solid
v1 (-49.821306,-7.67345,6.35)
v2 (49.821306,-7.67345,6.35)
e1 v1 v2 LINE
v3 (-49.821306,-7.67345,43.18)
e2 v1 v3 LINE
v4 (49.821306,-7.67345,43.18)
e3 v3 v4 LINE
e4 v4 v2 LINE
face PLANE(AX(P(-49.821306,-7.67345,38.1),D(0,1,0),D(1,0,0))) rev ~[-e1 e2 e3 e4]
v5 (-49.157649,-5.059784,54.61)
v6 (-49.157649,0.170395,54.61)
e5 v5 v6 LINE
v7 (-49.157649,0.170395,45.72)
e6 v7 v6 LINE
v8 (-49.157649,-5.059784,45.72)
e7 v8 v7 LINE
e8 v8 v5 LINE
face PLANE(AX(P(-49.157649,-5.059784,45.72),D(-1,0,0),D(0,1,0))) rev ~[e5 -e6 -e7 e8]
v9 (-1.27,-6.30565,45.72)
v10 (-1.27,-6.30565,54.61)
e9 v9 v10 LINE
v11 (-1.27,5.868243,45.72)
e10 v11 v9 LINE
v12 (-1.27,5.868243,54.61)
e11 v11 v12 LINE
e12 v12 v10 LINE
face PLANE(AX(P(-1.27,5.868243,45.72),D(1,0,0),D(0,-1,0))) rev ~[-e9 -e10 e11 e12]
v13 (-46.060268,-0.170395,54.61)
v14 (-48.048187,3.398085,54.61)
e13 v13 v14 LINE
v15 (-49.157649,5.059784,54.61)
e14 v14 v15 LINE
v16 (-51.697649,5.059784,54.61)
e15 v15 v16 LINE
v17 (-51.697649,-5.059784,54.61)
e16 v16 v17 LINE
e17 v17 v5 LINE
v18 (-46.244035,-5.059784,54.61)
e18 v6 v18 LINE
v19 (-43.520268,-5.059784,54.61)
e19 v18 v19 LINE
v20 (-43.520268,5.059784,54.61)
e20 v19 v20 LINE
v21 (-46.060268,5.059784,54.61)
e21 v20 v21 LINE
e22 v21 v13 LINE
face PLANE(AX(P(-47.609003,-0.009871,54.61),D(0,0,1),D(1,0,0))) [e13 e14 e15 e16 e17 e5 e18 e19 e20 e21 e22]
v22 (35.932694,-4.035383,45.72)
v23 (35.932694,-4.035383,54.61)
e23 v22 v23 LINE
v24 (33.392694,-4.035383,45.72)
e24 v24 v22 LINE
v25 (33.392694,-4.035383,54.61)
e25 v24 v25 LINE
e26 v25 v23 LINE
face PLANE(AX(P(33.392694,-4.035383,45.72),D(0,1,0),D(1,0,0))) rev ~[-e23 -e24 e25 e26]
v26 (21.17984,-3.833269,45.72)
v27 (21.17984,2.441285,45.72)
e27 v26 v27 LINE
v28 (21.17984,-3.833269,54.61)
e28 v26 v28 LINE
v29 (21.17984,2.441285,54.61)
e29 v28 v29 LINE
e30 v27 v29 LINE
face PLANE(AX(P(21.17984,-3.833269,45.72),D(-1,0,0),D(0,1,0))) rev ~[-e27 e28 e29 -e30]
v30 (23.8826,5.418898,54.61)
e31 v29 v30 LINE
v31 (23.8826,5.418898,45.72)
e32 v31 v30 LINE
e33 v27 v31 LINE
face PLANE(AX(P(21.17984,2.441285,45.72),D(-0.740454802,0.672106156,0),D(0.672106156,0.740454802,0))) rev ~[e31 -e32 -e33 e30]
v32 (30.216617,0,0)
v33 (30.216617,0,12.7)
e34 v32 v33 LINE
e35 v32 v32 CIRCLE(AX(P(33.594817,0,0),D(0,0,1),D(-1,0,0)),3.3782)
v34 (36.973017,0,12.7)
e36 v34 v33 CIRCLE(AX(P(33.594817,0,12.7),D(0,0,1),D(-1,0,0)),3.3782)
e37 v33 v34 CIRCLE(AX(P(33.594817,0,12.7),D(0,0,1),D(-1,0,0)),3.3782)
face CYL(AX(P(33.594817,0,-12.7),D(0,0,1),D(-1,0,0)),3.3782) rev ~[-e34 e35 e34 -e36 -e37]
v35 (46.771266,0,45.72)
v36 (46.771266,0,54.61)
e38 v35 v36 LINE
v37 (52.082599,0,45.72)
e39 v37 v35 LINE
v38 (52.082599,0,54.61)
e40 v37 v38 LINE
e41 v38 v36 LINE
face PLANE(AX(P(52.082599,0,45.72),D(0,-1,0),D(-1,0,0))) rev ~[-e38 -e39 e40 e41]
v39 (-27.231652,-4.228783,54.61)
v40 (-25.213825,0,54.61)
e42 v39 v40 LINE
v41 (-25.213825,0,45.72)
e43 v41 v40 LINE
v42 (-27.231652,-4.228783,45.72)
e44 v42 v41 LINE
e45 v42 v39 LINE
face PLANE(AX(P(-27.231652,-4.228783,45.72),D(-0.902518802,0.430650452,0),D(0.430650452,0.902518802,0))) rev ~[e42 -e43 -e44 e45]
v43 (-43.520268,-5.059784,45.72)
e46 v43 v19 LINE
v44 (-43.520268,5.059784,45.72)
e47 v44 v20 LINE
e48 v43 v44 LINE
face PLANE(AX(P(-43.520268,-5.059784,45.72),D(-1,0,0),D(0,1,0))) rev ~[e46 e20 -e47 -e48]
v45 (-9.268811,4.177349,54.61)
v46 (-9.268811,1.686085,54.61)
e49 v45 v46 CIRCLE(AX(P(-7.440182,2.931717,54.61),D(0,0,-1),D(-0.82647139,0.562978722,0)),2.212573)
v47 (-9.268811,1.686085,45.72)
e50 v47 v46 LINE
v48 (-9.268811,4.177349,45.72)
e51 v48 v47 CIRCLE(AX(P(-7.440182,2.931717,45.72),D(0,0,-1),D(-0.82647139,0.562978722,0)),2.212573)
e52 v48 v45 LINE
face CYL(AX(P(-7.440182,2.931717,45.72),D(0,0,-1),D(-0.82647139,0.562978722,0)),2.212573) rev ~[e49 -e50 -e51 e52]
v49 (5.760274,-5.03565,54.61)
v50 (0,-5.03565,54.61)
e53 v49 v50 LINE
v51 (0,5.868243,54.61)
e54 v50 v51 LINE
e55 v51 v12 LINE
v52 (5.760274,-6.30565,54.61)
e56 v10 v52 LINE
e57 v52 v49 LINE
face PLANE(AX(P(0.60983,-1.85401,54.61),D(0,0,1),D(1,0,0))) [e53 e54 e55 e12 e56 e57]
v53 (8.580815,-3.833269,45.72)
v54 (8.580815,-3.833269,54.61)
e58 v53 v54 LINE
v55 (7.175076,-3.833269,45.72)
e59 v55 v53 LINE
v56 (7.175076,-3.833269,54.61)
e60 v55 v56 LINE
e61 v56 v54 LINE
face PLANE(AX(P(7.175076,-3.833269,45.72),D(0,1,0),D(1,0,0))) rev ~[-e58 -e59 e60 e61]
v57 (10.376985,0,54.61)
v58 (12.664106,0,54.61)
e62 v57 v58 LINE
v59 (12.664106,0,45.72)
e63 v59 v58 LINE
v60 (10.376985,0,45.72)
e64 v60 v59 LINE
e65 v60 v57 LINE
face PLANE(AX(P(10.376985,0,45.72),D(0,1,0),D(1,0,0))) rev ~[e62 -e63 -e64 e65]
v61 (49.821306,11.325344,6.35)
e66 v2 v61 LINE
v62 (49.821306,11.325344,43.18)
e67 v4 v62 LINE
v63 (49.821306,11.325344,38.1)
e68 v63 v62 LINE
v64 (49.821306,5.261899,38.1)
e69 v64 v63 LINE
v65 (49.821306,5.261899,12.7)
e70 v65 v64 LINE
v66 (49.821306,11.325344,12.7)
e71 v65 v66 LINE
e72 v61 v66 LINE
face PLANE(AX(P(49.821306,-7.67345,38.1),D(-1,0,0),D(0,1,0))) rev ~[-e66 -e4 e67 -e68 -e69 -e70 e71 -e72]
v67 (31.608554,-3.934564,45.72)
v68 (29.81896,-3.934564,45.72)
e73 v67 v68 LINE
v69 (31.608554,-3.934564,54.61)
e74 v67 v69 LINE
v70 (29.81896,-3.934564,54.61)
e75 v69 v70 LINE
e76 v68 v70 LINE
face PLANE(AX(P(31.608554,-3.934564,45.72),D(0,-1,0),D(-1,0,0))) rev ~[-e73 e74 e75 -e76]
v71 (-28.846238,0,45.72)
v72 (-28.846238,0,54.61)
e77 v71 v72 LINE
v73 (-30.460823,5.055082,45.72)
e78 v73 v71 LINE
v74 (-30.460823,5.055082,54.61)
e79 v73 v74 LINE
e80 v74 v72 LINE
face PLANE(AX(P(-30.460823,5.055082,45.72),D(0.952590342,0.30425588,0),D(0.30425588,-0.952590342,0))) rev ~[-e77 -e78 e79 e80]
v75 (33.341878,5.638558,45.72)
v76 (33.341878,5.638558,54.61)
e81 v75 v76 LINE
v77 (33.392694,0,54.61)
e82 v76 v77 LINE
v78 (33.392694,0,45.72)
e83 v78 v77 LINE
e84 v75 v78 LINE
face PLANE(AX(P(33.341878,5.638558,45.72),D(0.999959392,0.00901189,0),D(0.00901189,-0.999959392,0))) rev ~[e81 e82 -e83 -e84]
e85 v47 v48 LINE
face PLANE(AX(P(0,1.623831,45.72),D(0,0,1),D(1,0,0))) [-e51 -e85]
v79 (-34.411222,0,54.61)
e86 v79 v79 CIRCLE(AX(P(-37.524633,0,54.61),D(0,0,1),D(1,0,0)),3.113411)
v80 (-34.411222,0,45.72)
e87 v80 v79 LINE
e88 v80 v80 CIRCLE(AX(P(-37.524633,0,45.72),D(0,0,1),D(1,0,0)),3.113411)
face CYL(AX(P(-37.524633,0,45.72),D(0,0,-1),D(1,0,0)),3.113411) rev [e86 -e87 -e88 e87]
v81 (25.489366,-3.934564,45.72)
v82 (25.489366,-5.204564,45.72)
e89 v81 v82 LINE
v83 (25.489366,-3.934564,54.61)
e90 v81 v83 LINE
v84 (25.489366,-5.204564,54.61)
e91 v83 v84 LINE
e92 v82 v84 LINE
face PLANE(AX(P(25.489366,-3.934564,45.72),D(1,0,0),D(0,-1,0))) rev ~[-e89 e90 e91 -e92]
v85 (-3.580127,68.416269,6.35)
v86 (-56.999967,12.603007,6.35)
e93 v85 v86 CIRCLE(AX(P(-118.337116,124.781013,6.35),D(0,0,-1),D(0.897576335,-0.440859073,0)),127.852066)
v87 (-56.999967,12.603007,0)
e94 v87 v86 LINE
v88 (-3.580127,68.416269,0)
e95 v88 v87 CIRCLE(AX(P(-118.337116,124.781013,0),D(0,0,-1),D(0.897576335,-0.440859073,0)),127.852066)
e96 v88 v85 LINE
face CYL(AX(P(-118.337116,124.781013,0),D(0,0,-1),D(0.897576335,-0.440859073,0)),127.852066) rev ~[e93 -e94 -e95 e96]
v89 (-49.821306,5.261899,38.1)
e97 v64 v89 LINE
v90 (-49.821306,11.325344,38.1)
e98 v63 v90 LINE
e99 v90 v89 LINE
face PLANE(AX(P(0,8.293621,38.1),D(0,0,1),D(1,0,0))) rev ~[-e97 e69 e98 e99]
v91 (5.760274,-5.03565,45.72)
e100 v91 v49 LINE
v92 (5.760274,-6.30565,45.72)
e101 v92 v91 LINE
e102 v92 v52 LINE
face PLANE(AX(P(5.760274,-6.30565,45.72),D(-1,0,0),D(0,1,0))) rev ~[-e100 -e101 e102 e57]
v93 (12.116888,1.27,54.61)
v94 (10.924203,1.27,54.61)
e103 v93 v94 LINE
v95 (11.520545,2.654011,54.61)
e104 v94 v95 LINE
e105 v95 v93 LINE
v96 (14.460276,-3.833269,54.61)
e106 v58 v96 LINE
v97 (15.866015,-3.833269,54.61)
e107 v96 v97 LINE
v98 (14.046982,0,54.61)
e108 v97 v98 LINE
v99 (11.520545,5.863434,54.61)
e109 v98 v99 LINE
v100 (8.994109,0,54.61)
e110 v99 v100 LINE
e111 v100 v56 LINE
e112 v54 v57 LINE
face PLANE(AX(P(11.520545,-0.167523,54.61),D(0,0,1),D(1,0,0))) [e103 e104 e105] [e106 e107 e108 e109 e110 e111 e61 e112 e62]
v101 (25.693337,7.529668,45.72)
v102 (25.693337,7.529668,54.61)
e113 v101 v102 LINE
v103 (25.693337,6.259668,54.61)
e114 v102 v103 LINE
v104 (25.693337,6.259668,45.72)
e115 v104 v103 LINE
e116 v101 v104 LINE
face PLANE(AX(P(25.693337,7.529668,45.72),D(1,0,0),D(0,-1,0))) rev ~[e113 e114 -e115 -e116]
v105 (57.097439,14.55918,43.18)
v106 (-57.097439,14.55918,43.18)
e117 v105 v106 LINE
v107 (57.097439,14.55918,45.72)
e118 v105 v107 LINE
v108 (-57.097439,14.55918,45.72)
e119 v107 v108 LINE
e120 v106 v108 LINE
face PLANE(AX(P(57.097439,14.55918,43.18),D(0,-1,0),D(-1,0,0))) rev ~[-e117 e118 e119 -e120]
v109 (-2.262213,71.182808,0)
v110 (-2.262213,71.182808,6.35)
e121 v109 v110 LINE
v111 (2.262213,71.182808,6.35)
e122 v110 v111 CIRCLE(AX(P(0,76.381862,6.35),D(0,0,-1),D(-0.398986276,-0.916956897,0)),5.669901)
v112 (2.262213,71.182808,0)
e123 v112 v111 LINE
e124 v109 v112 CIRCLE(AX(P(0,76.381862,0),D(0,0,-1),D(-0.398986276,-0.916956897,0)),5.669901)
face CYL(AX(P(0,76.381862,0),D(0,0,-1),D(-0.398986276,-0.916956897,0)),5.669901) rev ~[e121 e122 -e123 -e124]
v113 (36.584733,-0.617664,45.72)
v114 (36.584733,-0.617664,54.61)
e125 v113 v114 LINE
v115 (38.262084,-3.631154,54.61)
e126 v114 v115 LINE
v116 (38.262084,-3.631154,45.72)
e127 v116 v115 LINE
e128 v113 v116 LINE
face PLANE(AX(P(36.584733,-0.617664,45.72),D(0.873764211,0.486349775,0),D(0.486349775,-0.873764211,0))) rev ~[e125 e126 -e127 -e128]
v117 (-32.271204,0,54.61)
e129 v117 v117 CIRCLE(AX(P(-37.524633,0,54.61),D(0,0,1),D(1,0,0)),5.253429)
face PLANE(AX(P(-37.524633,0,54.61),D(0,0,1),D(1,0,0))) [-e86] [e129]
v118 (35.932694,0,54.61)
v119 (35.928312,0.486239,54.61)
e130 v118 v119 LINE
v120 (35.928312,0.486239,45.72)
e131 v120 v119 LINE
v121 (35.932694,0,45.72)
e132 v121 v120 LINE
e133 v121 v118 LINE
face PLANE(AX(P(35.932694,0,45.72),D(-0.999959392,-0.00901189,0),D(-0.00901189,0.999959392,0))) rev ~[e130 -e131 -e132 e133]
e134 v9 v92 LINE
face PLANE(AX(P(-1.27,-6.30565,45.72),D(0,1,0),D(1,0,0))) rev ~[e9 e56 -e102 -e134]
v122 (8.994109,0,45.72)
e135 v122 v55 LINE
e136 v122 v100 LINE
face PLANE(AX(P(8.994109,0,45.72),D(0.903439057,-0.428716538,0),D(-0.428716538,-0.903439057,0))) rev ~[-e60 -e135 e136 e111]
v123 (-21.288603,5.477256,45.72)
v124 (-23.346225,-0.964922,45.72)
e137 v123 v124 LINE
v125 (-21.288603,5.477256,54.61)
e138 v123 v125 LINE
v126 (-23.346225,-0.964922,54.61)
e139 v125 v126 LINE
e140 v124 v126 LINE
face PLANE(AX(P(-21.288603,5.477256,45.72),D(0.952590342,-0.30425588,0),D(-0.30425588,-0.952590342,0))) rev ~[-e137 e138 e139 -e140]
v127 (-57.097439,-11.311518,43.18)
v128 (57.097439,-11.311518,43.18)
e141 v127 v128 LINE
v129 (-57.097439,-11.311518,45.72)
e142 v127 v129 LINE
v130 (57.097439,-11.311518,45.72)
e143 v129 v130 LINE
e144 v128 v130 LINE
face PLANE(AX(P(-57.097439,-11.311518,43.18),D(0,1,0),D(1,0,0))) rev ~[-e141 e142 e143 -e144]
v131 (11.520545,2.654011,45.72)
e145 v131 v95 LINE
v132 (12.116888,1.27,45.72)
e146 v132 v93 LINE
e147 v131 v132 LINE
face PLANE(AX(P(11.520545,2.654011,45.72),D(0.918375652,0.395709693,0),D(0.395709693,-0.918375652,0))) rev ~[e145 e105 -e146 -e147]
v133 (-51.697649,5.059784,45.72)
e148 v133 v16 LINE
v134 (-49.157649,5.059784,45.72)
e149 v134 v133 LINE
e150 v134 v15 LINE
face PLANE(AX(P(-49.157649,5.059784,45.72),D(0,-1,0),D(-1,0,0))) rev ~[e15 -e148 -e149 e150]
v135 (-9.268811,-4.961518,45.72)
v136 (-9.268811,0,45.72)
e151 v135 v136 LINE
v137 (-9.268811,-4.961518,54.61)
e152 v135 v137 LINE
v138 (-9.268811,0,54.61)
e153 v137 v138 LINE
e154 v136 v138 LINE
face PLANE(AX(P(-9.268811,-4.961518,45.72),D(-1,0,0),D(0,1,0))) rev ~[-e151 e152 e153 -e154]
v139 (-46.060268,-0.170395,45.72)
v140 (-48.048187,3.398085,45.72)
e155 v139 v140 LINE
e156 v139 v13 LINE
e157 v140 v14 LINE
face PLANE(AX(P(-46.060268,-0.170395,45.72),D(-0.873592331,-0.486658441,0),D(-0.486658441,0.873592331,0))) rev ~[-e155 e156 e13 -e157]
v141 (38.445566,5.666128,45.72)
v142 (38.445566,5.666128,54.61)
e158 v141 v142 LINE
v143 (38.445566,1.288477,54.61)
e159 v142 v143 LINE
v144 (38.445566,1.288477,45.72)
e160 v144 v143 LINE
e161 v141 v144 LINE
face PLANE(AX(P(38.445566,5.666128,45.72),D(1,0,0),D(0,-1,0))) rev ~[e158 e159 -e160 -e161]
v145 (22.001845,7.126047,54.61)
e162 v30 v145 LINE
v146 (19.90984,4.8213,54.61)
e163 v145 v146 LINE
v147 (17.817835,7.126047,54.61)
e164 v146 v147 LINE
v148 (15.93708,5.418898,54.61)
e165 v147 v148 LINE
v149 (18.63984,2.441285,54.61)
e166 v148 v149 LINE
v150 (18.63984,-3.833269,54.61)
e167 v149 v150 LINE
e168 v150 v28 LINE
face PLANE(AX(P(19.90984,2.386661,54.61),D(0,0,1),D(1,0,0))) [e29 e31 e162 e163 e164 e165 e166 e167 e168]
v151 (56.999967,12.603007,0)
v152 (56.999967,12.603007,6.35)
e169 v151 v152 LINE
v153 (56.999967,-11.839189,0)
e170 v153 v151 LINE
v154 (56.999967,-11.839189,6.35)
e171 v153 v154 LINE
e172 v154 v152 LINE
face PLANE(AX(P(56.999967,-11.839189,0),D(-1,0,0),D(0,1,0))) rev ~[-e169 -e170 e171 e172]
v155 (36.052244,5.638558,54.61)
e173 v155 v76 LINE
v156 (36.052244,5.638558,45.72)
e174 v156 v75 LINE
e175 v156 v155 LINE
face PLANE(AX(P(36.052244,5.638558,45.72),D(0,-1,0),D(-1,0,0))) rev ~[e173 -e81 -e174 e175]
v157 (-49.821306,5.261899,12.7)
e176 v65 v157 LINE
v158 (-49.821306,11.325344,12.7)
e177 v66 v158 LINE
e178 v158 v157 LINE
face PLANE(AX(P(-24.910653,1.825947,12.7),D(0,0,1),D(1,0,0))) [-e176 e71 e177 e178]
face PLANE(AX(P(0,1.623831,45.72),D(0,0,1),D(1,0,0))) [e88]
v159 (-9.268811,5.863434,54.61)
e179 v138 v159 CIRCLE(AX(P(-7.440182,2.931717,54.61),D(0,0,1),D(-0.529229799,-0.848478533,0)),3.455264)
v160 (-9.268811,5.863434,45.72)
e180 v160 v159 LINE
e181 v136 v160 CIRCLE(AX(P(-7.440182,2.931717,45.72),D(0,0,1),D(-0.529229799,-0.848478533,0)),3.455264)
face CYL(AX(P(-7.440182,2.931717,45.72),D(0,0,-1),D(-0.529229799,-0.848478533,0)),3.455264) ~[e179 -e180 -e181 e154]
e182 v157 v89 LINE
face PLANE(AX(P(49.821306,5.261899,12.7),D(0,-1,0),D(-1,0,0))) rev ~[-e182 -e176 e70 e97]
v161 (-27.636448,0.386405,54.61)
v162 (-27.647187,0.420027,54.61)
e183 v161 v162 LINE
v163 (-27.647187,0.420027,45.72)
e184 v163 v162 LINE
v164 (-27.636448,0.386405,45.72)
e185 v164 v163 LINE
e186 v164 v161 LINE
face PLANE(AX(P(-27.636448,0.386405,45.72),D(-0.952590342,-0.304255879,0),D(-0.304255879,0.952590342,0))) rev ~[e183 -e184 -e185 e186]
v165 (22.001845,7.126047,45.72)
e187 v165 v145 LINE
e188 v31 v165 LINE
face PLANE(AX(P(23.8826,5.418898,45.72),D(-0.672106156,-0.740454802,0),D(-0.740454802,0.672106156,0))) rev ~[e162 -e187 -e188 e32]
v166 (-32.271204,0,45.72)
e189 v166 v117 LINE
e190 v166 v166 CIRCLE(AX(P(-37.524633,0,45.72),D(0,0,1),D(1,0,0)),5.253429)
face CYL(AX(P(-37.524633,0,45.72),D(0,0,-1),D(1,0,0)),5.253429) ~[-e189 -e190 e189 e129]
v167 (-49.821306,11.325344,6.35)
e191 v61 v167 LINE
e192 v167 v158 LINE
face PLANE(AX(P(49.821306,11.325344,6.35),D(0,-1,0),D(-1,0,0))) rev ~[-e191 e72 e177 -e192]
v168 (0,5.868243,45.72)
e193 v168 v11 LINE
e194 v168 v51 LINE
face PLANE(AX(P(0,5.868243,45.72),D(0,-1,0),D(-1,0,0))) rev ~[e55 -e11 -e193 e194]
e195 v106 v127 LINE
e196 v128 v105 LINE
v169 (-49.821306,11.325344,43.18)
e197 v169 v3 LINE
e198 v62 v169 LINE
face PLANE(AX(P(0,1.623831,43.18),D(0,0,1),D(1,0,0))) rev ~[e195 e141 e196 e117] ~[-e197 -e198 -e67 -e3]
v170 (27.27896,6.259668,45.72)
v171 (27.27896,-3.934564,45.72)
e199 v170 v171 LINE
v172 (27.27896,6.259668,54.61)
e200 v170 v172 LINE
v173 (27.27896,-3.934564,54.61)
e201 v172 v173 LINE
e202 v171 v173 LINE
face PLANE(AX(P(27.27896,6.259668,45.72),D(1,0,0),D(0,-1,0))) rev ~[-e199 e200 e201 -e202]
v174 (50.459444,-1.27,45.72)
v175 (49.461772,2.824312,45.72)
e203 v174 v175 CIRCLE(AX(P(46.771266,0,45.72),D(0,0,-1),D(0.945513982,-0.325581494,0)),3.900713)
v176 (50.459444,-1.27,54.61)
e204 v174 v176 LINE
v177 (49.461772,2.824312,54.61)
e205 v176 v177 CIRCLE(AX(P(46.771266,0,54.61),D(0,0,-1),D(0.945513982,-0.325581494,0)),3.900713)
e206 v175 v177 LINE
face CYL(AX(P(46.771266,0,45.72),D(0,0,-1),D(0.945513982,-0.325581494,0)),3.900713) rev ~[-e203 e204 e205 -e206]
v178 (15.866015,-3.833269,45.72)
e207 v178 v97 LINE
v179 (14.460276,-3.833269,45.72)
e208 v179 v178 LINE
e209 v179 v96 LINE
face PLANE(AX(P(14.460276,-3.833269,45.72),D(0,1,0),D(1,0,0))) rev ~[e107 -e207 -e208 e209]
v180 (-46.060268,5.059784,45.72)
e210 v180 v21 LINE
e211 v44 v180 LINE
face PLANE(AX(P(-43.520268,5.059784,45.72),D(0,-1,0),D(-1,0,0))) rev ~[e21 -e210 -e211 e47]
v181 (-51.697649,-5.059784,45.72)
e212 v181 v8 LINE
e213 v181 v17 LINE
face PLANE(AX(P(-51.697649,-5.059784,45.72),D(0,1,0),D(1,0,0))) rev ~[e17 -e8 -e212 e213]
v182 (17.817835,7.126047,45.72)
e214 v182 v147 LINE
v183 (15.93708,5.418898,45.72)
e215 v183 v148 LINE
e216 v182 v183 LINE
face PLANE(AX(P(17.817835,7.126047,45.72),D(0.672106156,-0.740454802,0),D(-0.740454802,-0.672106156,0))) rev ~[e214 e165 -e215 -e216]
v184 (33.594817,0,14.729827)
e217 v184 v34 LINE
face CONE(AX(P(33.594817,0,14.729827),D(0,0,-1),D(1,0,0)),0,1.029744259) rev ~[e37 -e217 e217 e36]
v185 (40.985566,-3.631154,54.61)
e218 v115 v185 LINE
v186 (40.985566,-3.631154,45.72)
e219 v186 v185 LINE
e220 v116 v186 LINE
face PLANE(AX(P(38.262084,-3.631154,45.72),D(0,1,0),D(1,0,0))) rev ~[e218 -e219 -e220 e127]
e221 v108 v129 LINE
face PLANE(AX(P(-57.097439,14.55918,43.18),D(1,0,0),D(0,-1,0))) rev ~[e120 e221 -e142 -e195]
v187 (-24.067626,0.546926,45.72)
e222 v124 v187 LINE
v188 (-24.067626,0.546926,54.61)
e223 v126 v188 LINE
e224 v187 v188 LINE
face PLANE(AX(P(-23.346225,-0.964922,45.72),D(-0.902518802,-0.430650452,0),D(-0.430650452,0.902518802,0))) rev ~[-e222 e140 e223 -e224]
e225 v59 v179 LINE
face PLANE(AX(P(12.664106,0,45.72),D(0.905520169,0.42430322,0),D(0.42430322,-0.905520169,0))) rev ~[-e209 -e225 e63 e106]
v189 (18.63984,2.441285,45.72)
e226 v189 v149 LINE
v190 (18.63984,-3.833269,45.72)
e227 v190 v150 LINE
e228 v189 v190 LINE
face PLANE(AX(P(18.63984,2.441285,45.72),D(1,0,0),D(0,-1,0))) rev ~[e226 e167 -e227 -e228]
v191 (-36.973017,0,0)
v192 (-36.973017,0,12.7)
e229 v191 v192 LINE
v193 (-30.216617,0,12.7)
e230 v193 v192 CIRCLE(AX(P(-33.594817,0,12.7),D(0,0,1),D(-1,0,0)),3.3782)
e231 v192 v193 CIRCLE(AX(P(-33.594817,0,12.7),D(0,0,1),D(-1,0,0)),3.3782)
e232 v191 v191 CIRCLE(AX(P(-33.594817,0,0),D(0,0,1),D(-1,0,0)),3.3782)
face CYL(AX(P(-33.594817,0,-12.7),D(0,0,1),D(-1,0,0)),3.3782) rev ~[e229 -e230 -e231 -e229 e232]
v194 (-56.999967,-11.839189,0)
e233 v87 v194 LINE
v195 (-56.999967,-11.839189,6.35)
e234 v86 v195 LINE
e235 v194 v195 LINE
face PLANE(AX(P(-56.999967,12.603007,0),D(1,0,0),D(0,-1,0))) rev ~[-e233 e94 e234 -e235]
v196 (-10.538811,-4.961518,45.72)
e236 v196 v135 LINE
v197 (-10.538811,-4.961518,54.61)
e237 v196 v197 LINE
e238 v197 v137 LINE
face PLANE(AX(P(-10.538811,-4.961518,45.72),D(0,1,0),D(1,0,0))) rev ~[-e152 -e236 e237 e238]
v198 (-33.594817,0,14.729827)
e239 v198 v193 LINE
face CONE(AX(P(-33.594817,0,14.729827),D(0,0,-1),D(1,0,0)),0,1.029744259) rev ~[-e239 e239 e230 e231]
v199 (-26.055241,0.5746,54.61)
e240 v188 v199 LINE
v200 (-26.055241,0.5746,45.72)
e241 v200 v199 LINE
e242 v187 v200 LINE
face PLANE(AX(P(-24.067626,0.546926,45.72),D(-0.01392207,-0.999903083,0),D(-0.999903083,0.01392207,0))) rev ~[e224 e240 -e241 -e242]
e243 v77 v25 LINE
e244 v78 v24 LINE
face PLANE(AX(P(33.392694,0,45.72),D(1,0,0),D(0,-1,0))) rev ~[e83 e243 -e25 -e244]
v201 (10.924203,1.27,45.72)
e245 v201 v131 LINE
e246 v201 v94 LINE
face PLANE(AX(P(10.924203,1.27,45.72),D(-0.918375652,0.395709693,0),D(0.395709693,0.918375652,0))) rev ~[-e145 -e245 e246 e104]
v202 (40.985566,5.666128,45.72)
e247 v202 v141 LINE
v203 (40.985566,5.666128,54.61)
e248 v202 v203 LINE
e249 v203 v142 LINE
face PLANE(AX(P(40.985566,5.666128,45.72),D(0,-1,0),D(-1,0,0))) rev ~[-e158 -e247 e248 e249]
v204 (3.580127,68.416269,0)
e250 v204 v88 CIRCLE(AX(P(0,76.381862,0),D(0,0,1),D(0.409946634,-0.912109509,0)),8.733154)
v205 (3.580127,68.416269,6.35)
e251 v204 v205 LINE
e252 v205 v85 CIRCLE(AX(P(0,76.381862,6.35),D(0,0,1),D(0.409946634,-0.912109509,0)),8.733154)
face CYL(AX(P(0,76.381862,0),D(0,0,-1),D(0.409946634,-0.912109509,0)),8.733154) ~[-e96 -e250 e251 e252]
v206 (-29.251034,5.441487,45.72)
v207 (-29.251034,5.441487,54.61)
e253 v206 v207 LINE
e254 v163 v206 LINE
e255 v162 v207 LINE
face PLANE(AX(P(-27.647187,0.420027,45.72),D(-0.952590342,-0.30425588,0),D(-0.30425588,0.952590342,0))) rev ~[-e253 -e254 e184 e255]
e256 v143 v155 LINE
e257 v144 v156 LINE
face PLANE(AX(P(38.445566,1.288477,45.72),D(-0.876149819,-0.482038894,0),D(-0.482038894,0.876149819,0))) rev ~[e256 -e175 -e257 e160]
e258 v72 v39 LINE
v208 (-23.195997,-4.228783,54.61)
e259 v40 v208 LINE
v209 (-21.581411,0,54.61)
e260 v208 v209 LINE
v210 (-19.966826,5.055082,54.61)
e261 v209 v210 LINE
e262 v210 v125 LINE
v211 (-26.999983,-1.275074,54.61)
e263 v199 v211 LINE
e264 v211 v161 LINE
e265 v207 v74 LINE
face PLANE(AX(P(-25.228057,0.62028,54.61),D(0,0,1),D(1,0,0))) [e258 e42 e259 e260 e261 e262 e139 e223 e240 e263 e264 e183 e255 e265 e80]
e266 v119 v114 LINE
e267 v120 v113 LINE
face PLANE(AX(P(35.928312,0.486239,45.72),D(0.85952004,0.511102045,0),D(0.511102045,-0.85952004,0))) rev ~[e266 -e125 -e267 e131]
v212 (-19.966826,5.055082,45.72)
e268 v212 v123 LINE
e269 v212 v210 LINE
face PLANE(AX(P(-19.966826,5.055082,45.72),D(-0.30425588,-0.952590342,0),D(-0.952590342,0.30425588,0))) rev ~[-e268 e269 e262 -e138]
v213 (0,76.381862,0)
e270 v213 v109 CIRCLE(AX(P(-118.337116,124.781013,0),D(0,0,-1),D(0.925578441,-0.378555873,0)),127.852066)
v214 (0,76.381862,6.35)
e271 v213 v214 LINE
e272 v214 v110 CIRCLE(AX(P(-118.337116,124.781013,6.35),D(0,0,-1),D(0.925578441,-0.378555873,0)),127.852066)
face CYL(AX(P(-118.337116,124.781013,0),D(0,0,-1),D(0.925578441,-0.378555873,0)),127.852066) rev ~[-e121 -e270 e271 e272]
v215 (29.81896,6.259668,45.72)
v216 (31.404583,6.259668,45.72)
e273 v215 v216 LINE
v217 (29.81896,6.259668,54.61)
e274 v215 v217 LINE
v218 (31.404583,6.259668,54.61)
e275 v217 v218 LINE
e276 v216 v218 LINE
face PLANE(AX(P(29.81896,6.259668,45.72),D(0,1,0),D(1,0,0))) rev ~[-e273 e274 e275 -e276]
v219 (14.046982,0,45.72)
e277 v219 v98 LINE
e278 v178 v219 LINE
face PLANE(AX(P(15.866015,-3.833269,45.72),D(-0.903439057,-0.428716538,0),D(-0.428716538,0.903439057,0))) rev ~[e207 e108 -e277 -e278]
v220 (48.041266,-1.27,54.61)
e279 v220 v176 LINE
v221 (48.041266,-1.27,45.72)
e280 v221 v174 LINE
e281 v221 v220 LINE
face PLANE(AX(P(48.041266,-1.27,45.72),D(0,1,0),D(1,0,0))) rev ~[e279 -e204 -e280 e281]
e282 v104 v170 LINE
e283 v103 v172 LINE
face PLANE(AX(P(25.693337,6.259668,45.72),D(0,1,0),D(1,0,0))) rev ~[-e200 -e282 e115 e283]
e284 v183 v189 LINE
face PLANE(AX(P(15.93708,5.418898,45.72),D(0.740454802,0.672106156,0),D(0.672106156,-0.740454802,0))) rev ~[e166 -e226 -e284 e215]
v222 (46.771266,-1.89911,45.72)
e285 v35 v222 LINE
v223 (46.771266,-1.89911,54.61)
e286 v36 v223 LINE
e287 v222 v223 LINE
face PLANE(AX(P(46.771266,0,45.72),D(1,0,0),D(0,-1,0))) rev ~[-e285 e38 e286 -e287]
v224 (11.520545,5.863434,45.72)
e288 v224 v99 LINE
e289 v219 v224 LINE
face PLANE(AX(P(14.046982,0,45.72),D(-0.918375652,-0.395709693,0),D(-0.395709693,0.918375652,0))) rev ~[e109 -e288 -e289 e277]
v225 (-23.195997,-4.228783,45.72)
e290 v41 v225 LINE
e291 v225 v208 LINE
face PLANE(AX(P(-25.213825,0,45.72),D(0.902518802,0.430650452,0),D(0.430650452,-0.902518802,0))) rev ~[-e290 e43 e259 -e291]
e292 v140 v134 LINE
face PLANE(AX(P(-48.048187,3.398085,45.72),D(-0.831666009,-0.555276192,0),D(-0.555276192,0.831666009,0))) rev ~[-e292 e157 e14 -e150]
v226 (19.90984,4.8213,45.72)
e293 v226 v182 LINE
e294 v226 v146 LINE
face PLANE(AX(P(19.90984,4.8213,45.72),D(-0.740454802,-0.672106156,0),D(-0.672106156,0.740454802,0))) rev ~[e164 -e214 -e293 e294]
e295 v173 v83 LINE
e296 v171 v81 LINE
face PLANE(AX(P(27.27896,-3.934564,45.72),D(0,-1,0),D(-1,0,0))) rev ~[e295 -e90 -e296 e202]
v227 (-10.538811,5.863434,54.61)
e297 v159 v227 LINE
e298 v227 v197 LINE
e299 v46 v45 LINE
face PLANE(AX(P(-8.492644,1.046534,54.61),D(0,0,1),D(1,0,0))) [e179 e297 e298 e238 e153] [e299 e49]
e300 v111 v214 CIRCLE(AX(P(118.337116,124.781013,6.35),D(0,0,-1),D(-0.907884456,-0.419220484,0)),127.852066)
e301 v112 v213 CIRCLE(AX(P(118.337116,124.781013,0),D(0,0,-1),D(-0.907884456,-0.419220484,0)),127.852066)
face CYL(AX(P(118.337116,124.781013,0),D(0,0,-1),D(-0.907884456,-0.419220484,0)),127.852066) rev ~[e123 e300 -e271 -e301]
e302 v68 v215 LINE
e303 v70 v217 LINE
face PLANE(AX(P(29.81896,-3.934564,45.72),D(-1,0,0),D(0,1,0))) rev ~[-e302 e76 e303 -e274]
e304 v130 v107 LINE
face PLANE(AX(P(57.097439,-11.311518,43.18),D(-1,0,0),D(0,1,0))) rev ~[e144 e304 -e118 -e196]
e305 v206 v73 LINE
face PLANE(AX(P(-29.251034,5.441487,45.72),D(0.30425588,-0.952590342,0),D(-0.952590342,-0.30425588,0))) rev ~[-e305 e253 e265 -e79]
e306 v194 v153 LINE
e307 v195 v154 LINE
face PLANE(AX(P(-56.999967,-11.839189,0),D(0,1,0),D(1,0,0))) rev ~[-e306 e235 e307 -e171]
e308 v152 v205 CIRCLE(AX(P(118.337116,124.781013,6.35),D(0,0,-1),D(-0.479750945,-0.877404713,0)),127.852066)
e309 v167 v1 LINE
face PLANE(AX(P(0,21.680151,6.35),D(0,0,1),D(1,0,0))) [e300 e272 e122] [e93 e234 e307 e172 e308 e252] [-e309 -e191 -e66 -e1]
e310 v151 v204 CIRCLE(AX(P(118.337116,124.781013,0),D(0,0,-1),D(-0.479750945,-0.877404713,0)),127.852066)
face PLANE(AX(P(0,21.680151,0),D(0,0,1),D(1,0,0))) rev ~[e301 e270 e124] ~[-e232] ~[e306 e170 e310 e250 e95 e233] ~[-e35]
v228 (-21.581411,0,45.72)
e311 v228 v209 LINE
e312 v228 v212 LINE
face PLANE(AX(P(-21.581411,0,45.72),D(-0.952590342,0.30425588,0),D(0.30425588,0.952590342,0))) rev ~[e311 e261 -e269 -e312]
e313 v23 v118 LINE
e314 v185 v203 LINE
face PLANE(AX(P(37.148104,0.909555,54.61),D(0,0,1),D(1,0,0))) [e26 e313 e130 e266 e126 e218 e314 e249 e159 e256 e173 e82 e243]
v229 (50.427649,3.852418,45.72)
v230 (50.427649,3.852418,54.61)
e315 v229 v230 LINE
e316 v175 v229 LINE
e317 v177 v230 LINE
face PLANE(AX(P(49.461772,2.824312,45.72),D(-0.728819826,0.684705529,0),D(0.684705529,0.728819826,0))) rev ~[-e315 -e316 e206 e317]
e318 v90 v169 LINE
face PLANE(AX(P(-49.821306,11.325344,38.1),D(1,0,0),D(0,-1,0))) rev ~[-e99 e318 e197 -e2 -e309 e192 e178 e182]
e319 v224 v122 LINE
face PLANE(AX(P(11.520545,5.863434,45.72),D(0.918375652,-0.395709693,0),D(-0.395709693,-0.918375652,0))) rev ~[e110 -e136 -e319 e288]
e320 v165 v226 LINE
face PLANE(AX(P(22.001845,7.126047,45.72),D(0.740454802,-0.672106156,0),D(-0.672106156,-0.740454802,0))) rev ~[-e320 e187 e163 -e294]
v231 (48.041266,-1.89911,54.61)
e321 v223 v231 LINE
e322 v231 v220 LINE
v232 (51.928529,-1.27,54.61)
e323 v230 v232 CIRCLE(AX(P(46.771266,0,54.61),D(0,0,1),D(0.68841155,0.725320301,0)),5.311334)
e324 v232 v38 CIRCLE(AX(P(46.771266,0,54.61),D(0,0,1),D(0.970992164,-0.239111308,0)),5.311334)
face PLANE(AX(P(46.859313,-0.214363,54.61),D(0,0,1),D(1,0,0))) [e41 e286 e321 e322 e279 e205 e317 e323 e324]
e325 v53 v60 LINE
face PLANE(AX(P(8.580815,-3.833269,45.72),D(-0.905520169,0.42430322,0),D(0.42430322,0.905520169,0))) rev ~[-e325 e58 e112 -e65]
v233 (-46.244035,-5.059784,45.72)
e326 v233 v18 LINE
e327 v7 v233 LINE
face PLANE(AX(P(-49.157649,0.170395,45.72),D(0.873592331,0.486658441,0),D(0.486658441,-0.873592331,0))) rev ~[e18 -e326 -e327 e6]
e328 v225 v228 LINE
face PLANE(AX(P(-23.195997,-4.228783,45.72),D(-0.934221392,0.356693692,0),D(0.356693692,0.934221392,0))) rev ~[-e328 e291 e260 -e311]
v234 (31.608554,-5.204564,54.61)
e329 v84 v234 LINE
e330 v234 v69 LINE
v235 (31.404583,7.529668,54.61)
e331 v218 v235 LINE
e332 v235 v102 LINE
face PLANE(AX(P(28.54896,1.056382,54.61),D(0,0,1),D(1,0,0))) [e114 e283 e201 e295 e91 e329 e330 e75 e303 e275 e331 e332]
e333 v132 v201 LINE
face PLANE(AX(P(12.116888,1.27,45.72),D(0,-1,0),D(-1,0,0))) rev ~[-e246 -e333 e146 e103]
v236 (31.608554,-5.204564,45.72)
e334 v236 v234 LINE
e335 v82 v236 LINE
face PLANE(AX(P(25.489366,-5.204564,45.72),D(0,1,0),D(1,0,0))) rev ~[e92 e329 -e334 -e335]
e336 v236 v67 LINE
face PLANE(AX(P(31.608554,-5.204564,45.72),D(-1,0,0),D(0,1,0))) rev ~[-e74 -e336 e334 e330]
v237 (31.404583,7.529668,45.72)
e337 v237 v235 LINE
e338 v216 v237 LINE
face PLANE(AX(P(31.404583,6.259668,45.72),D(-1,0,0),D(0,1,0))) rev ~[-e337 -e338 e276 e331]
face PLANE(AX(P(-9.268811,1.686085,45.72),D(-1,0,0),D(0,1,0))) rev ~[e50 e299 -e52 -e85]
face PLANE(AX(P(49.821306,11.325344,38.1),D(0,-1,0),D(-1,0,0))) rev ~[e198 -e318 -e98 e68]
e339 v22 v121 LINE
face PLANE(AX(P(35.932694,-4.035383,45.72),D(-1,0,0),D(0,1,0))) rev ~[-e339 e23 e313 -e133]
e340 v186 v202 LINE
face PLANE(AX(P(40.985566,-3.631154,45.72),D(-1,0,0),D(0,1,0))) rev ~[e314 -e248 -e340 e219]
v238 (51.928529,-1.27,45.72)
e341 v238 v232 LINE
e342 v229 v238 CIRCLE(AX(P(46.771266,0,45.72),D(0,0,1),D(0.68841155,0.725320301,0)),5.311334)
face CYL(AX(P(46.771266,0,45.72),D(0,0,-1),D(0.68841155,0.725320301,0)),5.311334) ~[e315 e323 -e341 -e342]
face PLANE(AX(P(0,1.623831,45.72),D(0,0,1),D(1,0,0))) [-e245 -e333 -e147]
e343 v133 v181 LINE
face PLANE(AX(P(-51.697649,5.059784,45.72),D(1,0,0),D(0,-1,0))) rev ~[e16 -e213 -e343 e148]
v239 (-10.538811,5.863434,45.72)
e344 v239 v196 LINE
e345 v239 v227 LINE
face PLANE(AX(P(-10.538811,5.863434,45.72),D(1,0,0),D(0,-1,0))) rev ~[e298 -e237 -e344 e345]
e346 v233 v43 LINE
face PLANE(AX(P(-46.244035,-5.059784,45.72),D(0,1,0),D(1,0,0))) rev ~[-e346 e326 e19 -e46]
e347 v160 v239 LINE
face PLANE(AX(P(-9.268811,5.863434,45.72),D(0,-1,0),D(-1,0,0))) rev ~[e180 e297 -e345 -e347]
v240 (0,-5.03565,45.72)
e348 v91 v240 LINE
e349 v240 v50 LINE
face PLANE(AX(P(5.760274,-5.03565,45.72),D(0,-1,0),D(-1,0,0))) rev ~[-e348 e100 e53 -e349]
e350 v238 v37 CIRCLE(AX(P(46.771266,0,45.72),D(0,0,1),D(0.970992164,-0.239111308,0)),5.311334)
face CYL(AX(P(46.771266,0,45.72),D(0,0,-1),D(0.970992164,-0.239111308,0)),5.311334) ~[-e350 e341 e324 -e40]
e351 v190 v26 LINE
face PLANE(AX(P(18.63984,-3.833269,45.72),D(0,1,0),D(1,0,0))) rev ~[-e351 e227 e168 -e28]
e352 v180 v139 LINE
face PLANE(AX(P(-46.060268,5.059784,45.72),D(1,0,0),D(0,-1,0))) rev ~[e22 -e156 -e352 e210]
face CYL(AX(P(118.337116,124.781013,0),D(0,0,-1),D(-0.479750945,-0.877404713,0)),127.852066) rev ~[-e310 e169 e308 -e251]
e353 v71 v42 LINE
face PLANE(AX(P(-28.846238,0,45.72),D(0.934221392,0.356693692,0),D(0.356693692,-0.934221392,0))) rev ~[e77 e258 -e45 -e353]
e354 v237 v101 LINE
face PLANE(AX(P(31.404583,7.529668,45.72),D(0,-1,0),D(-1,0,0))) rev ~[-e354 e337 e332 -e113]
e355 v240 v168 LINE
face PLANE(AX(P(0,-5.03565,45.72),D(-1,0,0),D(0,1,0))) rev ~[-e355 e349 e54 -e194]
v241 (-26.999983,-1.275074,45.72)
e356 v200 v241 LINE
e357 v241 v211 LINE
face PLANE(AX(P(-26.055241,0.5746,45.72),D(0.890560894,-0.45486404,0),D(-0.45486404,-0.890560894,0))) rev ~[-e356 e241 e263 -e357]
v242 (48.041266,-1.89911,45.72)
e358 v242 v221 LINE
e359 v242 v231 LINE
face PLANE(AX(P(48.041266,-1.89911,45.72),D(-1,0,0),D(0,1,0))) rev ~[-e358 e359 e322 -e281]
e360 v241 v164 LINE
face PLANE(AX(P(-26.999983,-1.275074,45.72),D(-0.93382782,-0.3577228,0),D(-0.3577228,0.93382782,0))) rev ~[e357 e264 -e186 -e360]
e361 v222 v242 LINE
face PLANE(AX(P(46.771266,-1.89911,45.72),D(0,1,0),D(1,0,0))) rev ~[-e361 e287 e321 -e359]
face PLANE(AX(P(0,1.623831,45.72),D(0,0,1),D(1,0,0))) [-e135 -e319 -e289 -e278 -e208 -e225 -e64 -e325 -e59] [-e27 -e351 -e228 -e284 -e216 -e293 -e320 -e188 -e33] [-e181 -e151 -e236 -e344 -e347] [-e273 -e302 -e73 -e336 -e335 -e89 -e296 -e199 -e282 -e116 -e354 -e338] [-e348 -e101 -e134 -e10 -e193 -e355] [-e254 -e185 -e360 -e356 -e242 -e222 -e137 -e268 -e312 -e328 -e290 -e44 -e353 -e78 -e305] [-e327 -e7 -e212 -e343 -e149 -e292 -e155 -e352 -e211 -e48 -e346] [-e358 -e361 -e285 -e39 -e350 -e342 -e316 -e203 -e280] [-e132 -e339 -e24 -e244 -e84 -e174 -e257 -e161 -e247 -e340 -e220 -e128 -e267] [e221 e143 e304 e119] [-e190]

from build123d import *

# Parameters (mm, degrees)
F1_DEPTH  = 6.35
F3_DEPTH  = 6.35
F5_DEPTH  = 25.4
F7_D      = 6.7564
F7_DEPTH  = 12.7
F7_TIP    = 2.0298273432
F9_DEPTH  = 5.08
F10_W     = 99.64261204
F10_H     = 18.998793792
F11_DEPTH = 2.54
F12_R     = 5.2534292615
F12_R_2   = 3.1134110093
F13_DEPTH = 8.89


with BuildPart() as f1:
    # F0 (on Top) → F1 (new body)
    with BuildSketch(Plane.XY):
        with BuildLine():
            Line((-56.9999665022, -11.8391886353), (0, -11.8391886353))
            Line((0, -11.8391886353), (56.9999665022, -11.8391886353))
            Line((56.9999665022, -11.8391886353), (56.9999665022, 12.603007257))
            ThreePointArc((56.9999665022, 12.603007257), (25.9733436303, 36.3780469183), (3.5801271207, 68.4162692798))
            ThreePointArc((3.5801271207, 68.4162692798), (0, 85.1150162439), (-3.5801271207, 68.4162692798))
            ThreePointArc((-3.5801271207, 68.4162692798), (-25.9733436303, 36.3780469183), (-56.9999665022, 12.603007257))
            Line((-56.9999665022, 12.603007257), (-56.9999665022, -11.8391886353))
        make_face()
        with BuildLine():
            ThreePointArc((2.2622125896, 71.1828075513), (1.1022822123, 73.769792923), (0, 76.3818621635))
            ThreePointArc((0, 76.3818621635), (-1.1022822123, 73.769792923), (-2.2622125896, 71.1828075513))
            ThreePointArc((-2.2622125896, 71.1828075513), (0, 82.0517629264), (2.2622125896, 71.1828075513))
        make_face(mode=Mode.SUBTRACT)
    extrude(amount=F1_DEPTH)

    # F2 (on face) → F3 (join)
    with BuildSketch(Plane.XY.offset(6.35)):
        Polygon((0, -7.67345028), (0, 0), (0, 11.325343512), (-49.82130602, 11.325343512), (-49.82130602, -7.67345028), align=None)
        Polygon((0, 11.325343512), (0, 0), (0, -7.67345028), (49.82130602, -7.67345028), (49.82130602, 11.325343512), align=None)
    extrude(amount=F3_DEPTH)

    # F4 (on face) → F5 (join)
    with BuildSketch(Plane.XY.offset(12.7)):
        Polygon((0, -7.67345028), (0, 0), (0, 5.2618985064), (-49.82130602, 5.2618985064), (-49.82130602, -7.67345028), align=None)
        Polygon((0, 5.2618985064), (0, 0), (0, -7.67345028), (49.82130602, -7.67345028), (49.82130602, 5.2618985064), align=None)
    extrude(amount=F5_DEPTH)

    # F7
    with Locations(Plane(origin=(0, 0, 0), x_dir=(1, 0, 0), z_dir=(0, 0, -1))):
        with Locations((33.5948169231, 0), (-33.5948169231, 0)):
            Hole(F7_D / 2, depth=F7_DEPTH)
            with Locations((0, 0, -(F7_DEPTH + F7_TIP / 2))):  # 118° drill point
                Cone(0, F7_D / 2, F7_TIP, mode=Mode.SUBTRACT)

    # F8 (on face) → F9 (join)
    with BuildSketch(Plane.XY.offset(38.1)):
        Polygon((49.82130602, 11.325343512), (0, 11.325343512), (-49.82130602, 11.325343512), (-49.82130602, 5.2618985064), (49.82130602, 5.2618985064), align=None)
        Polygon((49.82130602, 5.2618985064), (-49.82130602, 5.2618985064), (-49.82130602, -7.67345028), (0, -7.67345028), (49.82130602, -7.67345028), align=None)
    extrude(amount=F9_DEPTH)

    # F10 (on face) → F11 (join)
    with BuildSketch(Plane.XY.offset(43.18)):
        Polygon((57.0974387228, 14.5591804758), (0, 14.5591804758), (-57.0974387228, 14.5591804758), (-57.0974387228, -11.3115180284), (0, -11.3115180284), (57.0974387228, -11.3115180284), align=None)
        with Locations((0, 1.825946616)):
            Rectangle(F10_W, F10_H, mode=Mode.SUBTRACT)
        with Locations((0, 1.825946616)):
            Rectangle(F10_W, F10_H)
    extrude(amount=F11_DEPTH)

    # F12 (on face) → F13 (join)
    with BuildSketch(Plane.XY.offset(45.72)):
        Polygon((8.5808153566, -3.8332685363), (10.3769853802, 0), (11.520545464, 0), (12.6641055479, 0), (14.4602755714, -3.8332685363), (15.8660151064, -3.8332685363), (14.0469819307, 0), (11.520545464, 5.8634341694), (8.9941089973, 0), (7.1750758216, -3.8332685363), align=None)
        Polygon((12.1168879583, 1.27), (10.9242029697, 1.27), (11.520545464, 2.6540106426), align=None, mode=Mode.SUBTRACT)
        Polygon((15.9370799004, 5.4188976225), (18.6398400772, 2.4412850335), (18.6398400772, -3.8332685363), (21.1798400772, -3.8332685363), (21.1798400772, 2.4412850335), (23.8826002539, 5.4188976225), (22.0018450558, 7.1260472599), (19.9098400772, 4.821299538), (17.8178350986, 7.1260472599), align=None)
        with Locations((-37.5246331096, 0)):
            Circle(F12_R)
        with Locations((-37.5246331096, 0)):
            Circle(F12_R_2, mode=Mode.SUBTRACT)
        Polygon((-49.1576491702, -5.0597838126), (-49.1576491702, 0), (-49.1576491702, 0.1703951603), (-46.2440352845, -5.0597838126), (-46.0602679443, -5.0597838126), (-43.5202679443, -5.0597838126), (-43.5202679443, 0), (-43.5202679443, 5.0597838126), (-46.0602679443, 5.0597838126), (-46.0602679443, 0), (-46.0602679443, -0.1703951603), (-48.0481869093, 3.398084528), (-49.1576491702, 5.0597838126), (-51.6976491702, 5.0597838126), (-51.6976491702, 0), (-51.6976491702, -5.0597838126), align=None)
        Polygon((-30.4608233273, 5.0550824963), (-28.8462378085, 0), (-27.2316522896, -4.2287833057), (-25.2138245851, 0), (-23.1959968805, -4.2287833057), (-21.5814113617, 0), (-19.9668258429, 5.0550824963), (-21.2886028552, 5.4772560265), (-23.3462245652, -0.964922086), (-24.0676257065, 0.5469260742), (-26.0552410036, 0.5746004754), (-26.9999829904, -1.2750737017), (-27.6364480741, 0.3864049672), (-27.6471869469, 0.4200271491), (-29.2510335929, 5.4414874634), align=None)
        with BuildLine():
            Line((-9.2688109726, -4.9615180284), (-9.2688109726, 0))
            ThreePointArc((-9.2688109726, 0), (-3.9849187402, 2.9317170847), (-9.2688109726, 5.8634341694))
            Line((-9.2688109726, 5.8634341694), (-10.5388109726, 5.8634341694))
            Line((-10.5388109726, 5.8634341694), (-10.5388109726, -4.9615180284))
            Line((-10.5388109726, -4.9615180284), (-9.2688109726, -4.9615180284))
        make_face()
        with BuildLine():
            ThreePointArc((-9.2688109726, 4.1773487671), (-5.2276091663, 2.9317170847), (-9.2688109726, 1.6860854024))
            Line((-9.2688109726, 1.6860854024), (-9.2688109726, 4.1773487671))
        make_face(mode=Mode.SUBTRACT)
        Polygon((0, -5.0356499851), (0, 0), (0, 5.8682430536), (-1.27, 5.8682430536), (-1.27, -5.0356499851), (-1.27, -6.3056499851), (0, -6.3056499851), (5.7602738962, -6.3056499851), (5.7602738962, -5.0356499851), (1.27, -5.0356499851), align=None)
        Polygon((27.2789596426, 6.2596681528), (27.2789596426, -3.9345640689), (25.489365682, -3.9345640689), (25.489365682, -5.2045640689), (28.5489596426, -5.2045640689), (31.6085536033, -5.2045640689), (31.6085536033, -3.9345640689), (29.8189596426, -3.9345640689), (29.8189596426, 6.2596681528), (31.4045827836, 6.2596681528), (31.4045827836, 7.5296681528), (28.5489596426, 7.5296681528), (25.6933365017, 7.5296681528), (25.6933365017, 6.2596681528), align=None)
        Polygon((35.9326937389, -4.0353834629), (35.9326937389, 0), (35.9283116314, 0.4862386956), (36.5847326672, -0.6176642146), (38.2620843736, -3.6311536096), (38.4455657411, -3.6311536096), (40.9855657411, -3.6311536096), (40.9855657411, 5.6661283597), (38.4455657411, 5.6661283597), (38.4455657411, 1.2884770307), (36.0522442713, 5.638557907), (35.8818776127, 5.638557907), (33.3418776127, 5.638557907), (33.3926937389, 0), (33.3926937389, -4.0353834629), align=None)
        with BuildLine():
            Line((50.4276491702, 0), (46.7712655663, 0))
            Line((46.7712655663, 0), (46.7712655663, -1.8991101533))
            Line((46.7712655663, -1.8991101533), (48.0412655663, -1.8991101533))
            Line((48.0412655663, -1.8991101533), (48.0412655663, -1.27))
            Line((48.0412655663, -1.27), (50.4594443439, -1.27))
            ThreePointArc((50.4594443439, -1.27), (42.9814431355, -0.9234763875), (49.461772222, 2.8243117093))
            Line((49.461772222, 2.8243117093), (50.4276491702, 3.852418304))
            ThreePointArc((50.4276491702, 3.852418304), (41.6742187173, -1.493446104), (51.9285291671, -1.27))
            ThreePointArc((51.9285291671, -1.27), (52.043941209, -0.6396557001), (52.0825994711, 0))
            Line((52.0825994711, 0), (50.4276491702, 0))
        make_face()
    extrude(amount=F13_DEPTH)


solid = f1.part
